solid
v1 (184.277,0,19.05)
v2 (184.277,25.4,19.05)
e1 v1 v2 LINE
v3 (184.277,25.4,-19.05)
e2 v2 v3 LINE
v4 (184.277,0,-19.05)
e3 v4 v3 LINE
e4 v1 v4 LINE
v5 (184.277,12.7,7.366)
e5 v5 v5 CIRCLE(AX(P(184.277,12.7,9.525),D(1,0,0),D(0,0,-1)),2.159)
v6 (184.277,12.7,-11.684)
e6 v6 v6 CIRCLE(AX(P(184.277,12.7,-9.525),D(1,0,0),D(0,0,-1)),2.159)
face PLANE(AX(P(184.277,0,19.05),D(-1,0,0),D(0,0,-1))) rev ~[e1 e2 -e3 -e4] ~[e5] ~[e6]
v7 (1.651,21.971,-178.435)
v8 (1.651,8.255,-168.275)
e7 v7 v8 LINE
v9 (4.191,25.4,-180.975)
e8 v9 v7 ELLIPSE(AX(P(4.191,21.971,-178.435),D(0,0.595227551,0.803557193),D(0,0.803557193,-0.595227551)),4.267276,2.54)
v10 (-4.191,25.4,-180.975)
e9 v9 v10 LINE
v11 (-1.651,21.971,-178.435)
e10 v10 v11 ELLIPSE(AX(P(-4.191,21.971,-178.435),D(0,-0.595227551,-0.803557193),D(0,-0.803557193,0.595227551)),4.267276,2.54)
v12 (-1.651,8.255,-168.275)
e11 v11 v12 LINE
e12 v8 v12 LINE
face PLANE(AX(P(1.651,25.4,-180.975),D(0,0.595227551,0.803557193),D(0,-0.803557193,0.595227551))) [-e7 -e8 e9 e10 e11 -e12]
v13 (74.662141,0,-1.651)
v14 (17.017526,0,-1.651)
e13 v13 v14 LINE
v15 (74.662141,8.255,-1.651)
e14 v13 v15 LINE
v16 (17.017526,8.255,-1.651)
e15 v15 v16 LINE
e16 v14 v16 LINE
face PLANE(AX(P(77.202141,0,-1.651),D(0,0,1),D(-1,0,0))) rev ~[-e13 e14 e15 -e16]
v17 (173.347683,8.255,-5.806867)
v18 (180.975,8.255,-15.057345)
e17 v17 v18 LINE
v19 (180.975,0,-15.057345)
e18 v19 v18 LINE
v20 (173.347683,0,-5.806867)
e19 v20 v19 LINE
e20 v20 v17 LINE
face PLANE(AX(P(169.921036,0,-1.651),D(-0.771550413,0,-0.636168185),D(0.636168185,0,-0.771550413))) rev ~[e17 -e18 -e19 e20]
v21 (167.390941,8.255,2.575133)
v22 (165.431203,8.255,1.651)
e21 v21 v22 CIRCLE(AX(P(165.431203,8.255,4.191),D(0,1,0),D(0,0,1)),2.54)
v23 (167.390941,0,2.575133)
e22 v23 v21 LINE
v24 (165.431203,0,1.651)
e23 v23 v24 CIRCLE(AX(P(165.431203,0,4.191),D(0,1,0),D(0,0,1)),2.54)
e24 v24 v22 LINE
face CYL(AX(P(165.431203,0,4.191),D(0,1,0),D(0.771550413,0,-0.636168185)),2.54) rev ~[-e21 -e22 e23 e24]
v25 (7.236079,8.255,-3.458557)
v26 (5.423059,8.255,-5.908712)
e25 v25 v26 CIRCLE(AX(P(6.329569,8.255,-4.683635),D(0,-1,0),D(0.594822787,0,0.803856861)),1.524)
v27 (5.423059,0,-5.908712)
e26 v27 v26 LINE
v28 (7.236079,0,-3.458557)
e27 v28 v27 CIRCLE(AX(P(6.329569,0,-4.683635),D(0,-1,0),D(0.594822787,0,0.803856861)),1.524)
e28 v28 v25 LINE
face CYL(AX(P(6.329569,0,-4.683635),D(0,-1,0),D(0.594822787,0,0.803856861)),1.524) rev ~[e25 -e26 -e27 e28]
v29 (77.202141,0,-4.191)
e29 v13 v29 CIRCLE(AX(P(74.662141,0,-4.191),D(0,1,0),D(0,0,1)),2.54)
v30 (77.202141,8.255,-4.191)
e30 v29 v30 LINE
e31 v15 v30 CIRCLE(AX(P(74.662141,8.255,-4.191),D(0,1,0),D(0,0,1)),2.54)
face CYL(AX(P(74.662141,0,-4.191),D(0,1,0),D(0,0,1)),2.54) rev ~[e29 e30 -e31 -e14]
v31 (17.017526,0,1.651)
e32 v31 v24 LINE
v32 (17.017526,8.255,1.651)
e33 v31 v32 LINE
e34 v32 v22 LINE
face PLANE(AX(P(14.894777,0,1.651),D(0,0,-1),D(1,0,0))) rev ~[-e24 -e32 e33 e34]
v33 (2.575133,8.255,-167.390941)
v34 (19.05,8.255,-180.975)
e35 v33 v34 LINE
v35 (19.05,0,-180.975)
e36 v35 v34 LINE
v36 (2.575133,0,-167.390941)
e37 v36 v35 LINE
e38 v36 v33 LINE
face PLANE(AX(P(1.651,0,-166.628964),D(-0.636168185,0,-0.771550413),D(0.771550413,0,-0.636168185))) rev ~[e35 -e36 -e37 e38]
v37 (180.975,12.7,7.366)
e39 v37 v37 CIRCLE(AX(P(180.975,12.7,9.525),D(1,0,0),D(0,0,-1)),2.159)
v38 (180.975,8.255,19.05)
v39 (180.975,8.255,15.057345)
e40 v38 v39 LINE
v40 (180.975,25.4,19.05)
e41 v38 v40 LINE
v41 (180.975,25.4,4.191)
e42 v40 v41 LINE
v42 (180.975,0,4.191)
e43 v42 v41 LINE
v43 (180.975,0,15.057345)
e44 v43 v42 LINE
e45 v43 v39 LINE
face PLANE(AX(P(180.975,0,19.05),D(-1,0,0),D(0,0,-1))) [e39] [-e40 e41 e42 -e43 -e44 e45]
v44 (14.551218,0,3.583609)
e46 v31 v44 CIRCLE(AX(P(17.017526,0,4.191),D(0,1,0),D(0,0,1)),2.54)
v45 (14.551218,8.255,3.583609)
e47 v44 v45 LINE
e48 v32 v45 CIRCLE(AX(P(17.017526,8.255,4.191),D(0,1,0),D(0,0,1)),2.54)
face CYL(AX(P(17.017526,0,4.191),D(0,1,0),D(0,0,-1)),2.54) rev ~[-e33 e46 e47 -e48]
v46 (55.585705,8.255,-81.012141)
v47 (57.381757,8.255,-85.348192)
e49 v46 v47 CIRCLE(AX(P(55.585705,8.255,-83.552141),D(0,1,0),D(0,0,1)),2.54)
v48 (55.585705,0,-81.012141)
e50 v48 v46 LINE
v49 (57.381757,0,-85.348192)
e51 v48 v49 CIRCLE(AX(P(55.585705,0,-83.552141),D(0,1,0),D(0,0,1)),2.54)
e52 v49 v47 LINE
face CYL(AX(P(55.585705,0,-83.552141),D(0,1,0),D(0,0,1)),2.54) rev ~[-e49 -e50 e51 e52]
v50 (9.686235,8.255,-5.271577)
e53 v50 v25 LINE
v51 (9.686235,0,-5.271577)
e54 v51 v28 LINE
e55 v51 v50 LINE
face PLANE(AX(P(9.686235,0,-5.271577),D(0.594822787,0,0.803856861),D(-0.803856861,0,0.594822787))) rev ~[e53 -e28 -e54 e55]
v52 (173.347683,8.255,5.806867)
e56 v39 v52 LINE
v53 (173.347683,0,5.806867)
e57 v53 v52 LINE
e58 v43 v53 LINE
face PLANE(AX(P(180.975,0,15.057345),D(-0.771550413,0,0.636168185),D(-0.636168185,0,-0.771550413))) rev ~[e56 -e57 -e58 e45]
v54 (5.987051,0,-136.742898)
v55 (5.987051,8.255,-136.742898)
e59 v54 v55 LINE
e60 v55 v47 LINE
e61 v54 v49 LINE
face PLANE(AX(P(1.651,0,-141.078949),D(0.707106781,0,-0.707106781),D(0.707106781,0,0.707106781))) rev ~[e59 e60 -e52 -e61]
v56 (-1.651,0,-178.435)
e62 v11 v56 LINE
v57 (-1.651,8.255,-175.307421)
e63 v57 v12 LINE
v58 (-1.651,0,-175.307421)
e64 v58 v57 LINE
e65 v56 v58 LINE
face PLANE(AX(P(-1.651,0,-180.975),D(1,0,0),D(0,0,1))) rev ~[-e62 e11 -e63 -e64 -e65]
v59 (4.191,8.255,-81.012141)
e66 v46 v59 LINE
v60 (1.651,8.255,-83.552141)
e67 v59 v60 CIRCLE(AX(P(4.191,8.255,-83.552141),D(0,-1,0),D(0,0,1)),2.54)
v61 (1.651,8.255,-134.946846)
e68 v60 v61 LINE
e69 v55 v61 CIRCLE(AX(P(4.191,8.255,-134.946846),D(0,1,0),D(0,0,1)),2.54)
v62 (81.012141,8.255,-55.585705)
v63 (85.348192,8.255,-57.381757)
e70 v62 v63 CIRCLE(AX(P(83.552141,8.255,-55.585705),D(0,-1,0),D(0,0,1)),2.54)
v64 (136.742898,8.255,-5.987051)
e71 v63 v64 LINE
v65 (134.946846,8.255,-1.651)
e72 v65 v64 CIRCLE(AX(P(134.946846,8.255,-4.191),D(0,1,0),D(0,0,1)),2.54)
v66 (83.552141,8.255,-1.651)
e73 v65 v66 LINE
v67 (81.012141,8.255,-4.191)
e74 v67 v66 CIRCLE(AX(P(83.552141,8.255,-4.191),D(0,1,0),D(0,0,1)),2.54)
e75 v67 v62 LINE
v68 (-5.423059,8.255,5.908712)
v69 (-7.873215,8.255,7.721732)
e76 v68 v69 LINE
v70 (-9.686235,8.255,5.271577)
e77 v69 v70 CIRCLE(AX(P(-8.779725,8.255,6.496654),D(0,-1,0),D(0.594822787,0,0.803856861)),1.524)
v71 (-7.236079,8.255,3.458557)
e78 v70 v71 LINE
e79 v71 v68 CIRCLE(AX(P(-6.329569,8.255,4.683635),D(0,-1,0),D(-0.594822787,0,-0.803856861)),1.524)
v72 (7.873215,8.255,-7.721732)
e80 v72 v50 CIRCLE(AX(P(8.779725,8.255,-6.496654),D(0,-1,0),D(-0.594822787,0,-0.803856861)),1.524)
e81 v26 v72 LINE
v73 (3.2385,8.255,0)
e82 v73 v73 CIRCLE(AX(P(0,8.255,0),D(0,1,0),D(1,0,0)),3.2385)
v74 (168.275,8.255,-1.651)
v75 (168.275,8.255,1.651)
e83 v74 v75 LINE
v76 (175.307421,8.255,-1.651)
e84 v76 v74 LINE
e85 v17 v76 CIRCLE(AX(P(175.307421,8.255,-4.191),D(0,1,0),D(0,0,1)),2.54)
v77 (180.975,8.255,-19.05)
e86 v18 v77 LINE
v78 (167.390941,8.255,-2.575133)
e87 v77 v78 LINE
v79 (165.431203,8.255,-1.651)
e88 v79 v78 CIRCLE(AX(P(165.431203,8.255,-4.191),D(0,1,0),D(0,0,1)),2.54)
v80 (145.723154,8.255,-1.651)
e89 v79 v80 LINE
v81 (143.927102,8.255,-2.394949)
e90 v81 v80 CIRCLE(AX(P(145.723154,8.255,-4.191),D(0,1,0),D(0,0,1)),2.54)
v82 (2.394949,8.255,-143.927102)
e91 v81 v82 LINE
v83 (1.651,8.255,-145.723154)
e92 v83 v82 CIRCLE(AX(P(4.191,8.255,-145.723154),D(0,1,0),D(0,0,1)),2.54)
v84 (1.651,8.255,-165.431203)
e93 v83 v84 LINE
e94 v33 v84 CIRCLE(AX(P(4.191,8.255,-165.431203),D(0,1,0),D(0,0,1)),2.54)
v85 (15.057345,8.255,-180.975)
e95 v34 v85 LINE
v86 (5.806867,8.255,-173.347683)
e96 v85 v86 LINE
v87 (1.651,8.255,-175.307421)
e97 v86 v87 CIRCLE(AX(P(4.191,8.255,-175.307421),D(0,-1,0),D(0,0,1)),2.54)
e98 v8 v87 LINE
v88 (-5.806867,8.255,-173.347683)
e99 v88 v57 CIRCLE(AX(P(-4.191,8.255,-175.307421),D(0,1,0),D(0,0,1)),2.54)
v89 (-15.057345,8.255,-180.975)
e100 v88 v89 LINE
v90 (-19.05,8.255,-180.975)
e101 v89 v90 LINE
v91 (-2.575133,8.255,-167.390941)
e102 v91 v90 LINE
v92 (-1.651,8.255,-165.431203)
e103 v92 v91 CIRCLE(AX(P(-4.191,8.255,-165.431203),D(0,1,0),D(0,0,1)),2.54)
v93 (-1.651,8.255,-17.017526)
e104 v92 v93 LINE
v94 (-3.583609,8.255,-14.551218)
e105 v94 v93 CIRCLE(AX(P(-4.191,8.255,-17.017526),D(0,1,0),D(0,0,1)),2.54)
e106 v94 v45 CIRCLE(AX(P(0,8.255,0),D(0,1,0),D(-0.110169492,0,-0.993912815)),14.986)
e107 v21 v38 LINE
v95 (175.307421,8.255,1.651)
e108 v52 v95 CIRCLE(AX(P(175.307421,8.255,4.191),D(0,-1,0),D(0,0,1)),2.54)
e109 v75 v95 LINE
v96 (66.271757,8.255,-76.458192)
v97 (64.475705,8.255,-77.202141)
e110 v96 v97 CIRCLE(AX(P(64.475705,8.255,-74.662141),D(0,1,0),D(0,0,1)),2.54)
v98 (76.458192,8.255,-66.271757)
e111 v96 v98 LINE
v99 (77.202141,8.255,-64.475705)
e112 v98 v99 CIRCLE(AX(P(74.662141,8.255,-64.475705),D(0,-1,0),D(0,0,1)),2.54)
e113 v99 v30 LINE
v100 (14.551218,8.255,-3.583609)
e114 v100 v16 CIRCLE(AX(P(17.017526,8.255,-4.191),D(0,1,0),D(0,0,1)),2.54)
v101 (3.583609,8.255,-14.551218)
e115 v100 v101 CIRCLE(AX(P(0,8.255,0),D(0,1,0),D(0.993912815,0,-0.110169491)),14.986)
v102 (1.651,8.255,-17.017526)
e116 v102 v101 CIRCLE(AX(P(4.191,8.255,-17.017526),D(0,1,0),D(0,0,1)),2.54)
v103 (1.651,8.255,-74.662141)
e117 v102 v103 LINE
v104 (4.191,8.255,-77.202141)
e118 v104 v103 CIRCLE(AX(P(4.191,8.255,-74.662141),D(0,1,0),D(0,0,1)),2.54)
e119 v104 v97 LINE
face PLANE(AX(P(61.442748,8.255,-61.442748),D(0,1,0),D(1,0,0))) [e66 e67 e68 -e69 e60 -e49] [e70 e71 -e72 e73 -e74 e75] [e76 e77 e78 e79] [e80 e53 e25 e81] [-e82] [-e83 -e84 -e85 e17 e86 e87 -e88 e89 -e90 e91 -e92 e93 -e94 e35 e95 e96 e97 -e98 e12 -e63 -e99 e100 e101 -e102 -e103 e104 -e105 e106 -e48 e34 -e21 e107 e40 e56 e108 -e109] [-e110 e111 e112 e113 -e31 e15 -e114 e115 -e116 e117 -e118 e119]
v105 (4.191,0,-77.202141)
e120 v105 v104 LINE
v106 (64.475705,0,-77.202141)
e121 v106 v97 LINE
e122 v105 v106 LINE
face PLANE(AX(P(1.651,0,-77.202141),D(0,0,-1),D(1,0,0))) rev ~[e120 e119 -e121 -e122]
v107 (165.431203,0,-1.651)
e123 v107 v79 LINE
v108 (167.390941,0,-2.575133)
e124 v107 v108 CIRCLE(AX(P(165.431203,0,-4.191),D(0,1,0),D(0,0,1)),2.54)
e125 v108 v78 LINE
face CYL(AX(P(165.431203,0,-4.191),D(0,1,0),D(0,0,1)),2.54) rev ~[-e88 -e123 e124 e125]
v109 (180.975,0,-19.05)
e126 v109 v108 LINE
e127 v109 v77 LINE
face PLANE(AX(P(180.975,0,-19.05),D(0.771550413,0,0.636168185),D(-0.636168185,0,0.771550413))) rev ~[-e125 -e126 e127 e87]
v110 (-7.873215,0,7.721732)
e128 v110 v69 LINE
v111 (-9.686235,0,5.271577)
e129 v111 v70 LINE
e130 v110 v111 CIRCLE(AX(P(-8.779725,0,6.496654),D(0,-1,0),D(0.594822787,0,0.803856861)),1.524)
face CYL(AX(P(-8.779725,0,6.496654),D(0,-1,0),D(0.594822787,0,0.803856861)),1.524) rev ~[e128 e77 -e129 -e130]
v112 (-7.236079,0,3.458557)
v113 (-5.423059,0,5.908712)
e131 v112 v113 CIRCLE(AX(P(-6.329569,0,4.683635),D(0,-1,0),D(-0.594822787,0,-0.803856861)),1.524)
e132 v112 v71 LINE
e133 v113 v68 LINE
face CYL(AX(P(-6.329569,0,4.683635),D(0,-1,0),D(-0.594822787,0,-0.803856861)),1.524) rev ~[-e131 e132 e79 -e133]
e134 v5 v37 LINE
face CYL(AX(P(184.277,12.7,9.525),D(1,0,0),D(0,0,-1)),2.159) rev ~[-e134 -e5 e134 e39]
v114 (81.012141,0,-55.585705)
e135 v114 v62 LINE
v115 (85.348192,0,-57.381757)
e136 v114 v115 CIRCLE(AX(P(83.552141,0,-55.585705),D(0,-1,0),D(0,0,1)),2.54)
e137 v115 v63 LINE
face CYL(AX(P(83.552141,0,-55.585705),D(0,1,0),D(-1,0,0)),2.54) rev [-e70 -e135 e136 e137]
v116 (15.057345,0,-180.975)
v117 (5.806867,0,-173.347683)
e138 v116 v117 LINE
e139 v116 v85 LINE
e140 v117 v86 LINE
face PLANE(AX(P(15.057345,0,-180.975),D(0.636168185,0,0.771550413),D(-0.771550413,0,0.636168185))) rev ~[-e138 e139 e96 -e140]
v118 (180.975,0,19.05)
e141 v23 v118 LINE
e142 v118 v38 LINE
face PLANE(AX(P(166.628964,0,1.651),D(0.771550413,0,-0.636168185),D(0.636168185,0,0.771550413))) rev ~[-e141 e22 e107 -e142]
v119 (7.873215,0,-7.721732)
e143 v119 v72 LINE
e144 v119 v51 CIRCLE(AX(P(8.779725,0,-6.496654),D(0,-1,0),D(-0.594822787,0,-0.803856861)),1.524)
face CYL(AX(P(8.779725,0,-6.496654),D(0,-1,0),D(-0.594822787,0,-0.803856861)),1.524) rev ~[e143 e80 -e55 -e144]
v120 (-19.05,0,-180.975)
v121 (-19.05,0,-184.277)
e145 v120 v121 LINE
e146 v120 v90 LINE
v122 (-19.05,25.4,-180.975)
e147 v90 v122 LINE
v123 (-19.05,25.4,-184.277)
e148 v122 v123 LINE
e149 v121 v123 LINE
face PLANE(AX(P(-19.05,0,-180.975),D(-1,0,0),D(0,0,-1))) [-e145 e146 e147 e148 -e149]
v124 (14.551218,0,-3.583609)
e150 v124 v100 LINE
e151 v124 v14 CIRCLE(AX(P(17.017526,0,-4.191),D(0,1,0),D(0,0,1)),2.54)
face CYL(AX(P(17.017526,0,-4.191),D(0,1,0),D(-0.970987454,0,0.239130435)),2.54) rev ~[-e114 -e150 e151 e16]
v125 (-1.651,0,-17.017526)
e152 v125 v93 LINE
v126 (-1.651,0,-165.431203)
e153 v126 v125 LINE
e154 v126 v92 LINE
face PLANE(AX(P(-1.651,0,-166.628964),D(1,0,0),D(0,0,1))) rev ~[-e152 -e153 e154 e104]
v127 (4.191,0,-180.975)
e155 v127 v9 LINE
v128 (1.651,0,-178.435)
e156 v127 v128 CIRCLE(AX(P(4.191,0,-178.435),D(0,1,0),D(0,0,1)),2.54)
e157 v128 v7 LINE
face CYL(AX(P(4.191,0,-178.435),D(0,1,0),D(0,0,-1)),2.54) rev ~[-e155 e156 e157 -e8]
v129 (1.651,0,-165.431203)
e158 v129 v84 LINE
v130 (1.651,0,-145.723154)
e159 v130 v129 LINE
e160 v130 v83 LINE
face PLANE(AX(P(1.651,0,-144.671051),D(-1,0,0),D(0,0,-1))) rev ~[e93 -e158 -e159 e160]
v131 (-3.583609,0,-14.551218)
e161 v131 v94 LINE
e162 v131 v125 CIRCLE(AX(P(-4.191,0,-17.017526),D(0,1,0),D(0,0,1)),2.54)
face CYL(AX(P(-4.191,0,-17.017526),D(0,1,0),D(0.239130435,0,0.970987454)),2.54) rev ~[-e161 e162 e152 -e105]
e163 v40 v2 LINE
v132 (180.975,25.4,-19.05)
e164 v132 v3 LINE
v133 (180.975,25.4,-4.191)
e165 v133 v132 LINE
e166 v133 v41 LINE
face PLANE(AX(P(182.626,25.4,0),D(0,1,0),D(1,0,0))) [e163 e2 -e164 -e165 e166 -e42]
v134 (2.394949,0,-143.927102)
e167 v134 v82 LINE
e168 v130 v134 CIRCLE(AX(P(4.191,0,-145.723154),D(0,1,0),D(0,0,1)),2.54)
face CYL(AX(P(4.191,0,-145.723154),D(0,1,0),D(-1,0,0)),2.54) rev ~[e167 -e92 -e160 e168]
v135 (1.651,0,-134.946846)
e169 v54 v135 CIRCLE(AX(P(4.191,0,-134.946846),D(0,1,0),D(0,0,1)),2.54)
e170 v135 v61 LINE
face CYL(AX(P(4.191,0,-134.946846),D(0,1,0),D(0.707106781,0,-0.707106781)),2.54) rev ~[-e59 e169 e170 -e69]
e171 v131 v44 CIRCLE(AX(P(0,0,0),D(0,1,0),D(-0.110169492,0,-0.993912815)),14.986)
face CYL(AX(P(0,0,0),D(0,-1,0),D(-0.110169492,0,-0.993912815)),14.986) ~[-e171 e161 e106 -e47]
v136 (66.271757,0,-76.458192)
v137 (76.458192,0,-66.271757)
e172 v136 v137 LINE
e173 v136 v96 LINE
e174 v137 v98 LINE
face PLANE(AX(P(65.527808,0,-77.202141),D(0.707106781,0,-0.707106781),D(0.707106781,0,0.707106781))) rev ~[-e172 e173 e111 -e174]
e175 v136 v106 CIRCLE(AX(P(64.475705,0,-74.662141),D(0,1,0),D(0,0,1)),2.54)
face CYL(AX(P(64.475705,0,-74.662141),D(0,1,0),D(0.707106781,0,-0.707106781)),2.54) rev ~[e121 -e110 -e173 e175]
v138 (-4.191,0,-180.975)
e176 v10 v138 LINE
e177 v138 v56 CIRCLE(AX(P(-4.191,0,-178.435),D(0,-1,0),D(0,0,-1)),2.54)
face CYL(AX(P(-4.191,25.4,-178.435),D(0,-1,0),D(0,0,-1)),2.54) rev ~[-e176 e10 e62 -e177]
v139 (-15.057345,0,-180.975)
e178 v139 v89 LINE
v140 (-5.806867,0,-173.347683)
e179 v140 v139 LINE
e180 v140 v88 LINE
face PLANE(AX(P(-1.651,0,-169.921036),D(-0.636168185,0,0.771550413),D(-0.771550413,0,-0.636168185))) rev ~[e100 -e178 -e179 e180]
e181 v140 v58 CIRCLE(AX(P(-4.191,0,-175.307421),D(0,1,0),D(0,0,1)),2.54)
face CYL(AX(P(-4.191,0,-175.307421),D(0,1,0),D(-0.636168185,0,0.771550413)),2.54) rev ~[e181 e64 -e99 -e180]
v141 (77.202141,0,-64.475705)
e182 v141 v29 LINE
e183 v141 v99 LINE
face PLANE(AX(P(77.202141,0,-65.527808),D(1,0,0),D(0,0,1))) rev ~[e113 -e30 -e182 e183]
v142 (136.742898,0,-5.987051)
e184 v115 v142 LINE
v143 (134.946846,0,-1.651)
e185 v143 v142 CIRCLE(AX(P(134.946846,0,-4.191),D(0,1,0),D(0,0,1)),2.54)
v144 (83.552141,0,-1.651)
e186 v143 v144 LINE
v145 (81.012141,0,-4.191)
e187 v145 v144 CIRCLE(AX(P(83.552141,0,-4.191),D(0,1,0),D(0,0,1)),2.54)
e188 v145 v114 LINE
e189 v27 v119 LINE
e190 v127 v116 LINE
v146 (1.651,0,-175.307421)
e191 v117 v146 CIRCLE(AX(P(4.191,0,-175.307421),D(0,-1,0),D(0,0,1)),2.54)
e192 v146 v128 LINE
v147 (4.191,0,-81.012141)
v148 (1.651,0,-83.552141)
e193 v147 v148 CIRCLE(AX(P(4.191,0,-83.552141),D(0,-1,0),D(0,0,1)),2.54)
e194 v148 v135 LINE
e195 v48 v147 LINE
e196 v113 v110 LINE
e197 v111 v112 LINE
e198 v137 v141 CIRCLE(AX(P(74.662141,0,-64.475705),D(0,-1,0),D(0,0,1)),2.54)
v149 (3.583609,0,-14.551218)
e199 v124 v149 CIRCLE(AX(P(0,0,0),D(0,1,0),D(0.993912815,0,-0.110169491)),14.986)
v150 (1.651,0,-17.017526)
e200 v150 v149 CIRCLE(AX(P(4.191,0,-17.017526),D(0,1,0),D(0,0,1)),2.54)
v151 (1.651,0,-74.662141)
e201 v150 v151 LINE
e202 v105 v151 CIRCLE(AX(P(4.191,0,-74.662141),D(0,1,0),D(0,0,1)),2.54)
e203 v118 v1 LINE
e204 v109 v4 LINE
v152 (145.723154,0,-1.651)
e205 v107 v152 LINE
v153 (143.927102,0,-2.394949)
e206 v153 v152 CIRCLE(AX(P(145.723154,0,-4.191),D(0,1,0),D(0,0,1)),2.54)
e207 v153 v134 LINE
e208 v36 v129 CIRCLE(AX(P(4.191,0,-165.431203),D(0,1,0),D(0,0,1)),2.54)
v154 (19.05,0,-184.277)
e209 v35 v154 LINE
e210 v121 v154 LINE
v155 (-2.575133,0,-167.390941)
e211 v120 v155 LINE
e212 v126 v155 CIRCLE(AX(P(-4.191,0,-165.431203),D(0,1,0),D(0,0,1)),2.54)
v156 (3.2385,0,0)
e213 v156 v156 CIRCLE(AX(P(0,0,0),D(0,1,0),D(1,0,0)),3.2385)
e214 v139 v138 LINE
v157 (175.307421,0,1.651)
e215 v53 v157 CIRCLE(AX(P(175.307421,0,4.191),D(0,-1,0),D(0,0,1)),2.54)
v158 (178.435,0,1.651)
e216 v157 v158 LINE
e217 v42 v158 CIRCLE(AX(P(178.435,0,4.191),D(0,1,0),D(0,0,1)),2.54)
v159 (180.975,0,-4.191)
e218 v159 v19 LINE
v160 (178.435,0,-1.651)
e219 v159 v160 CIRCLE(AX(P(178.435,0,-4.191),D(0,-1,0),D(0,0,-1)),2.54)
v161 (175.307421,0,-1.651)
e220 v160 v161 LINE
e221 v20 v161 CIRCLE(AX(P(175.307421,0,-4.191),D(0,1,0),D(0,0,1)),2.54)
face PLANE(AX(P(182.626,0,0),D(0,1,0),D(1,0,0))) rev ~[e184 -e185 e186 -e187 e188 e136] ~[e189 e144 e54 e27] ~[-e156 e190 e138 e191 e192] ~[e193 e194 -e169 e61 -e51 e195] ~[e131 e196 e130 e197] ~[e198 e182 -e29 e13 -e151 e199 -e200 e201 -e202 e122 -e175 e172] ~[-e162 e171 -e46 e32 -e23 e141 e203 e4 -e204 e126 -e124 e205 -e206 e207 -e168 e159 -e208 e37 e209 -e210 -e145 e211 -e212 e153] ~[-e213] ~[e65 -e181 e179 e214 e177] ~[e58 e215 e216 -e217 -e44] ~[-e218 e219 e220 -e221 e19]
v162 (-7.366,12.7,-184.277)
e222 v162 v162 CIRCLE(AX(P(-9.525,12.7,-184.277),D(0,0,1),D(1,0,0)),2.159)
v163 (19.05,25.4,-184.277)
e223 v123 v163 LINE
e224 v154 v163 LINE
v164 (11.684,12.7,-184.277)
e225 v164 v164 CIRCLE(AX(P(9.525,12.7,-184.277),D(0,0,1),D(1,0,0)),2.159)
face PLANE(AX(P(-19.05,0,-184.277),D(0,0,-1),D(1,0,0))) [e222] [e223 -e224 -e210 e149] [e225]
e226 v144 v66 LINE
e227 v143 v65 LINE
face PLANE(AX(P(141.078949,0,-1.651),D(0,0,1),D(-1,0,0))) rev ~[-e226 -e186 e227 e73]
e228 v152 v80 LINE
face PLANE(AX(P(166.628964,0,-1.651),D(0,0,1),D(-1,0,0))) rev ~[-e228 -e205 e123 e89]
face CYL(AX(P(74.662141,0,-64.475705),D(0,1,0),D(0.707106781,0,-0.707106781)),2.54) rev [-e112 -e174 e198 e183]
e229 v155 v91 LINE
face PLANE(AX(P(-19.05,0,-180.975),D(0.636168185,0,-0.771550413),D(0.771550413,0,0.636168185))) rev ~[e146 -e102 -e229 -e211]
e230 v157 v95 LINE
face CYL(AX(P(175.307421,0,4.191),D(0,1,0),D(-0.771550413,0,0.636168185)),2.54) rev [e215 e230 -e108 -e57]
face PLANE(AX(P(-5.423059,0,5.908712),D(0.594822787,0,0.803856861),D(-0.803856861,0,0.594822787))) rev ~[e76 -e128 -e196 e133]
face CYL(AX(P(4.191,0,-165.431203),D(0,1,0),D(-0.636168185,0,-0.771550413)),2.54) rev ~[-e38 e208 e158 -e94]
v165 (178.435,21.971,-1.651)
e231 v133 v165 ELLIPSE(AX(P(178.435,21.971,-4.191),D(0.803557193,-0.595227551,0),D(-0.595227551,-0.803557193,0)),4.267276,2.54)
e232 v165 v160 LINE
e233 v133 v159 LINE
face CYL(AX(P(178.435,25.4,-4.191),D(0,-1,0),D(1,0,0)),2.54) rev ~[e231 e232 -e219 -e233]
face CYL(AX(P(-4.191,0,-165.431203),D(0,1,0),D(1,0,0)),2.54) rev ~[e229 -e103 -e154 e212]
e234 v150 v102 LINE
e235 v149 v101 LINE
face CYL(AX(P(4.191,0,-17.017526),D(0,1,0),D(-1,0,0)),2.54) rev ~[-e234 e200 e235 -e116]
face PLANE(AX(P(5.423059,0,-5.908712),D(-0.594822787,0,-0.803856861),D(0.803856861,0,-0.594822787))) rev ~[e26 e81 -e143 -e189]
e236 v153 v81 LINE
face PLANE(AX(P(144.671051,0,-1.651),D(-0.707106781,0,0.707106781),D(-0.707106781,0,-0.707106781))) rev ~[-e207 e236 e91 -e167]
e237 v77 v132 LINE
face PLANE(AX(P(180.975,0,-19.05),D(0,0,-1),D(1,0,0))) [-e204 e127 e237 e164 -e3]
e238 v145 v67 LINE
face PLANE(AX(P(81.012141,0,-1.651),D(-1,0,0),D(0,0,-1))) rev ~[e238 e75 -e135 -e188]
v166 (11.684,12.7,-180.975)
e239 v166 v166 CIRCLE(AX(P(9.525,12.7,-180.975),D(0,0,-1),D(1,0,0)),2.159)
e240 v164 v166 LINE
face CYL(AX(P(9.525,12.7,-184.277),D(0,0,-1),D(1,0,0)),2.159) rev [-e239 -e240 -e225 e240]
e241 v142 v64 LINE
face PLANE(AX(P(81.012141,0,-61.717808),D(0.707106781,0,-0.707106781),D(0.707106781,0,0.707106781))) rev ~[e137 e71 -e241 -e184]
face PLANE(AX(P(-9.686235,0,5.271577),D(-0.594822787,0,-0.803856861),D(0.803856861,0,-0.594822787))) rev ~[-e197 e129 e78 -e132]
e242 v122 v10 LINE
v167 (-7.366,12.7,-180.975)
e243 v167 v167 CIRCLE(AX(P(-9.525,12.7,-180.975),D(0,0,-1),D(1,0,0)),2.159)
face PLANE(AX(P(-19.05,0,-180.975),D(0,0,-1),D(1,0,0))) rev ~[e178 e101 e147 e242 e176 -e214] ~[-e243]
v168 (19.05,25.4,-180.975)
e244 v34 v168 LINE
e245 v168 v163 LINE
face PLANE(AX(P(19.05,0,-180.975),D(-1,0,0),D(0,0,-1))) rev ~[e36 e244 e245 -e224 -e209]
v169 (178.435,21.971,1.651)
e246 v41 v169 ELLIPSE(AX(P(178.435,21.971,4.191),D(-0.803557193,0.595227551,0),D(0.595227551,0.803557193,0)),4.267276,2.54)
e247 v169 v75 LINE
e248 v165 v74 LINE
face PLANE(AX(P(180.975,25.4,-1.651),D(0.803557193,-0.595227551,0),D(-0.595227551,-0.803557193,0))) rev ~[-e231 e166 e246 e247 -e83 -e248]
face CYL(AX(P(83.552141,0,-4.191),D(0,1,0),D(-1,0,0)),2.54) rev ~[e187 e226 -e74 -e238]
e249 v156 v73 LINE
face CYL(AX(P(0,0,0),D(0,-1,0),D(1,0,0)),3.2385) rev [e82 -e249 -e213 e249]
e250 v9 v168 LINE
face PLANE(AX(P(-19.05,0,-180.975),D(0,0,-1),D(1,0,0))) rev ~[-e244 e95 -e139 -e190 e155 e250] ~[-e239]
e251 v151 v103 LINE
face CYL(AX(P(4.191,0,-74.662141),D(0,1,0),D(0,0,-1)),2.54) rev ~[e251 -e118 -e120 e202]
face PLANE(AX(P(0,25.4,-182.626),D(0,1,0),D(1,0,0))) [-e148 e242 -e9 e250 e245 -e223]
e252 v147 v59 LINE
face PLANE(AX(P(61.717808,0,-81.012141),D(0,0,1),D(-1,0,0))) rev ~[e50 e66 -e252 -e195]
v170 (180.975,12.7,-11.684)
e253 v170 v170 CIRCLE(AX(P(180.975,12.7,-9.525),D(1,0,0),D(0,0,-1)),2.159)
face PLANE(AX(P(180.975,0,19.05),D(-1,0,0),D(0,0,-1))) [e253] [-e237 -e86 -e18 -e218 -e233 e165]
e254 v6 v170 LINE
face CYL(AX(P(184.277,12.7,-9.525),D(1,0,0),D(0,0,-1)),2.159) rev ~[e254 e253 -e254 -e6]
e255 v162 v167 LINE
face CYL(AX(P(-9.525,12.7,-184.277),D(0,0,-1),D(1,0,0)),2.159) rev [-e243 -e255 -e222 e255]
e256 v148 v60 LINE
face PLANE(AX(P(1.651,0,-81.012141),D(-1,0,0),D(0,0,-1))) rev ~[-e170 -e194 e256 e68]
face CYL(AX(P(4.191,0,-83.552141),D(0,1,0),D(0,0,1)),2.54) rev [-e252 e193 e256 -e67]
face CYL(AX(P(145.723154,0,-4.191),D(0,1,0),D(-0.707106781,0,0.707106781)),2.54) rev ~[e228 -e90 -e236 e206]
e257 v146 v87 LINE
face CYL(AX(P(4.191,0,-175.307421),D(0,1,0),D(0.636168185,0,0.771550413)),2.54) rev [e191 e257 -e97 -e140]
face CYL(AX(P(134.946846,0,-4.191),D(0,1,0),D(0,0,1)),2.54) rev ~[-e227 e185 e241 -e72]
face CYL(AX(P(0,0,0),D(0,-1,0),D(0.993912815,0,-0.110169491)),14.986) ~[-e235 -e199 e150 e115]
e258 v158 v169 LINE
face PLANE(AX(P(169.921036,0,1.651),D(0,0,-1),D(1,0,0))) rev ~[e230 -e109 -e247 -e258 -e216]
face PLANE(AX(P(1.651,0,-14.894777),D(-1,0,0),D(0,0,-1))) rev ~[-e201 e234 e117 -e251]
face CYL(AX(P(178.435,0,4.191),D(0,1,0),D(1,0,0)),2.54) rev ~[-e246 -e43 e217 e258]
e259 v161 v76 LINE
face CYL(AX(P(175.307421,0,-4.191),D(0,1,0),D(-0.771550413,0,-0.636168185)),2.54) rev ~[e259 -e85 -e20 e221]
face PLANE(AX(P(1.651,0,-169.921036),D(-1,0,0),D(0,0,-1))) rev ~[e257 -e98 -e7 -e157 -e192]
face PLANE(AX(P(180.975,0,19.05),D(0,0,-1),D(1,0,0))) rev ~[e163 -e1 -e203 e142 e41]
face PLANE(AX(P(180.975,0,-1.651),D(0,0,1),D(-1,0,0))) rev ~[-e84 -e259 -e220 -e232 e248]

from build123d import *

# Parameters (mm, degrees)
SKETCH1_R           = 3.2385
BOSS_EXTRUDE1_DEPTH = 8.255
SKETCH3_W           = 3.302
SKETCH3_H           = 38.1
SKETCH3_W_2         = 38.1
SKETCH3_H_2         = 3.302
BOSS_EXTRUDE3_DEPTH = 25.4
SKETCH5_R           = 2.159
CUT_EXTRUDE1_DEPTH  = 204.327
SKETCH6_W           = 12.7
SKETCH6_H           = 3.302
BOSS_EXTRUDE5_DEPTH = 25.4
CUT_EXTRUDE2_DEPTH  = 25.4
SKETCH8_W           = 3.302
SKETCH8_H           = 12.7
BOSS_EXTRUDE6_DEPTH = 25.4
CUT_EXTRUDE3_DEPTH  = 25.4
FILLET1_R           = 2.54


with BuildPart() as part:
    # Sketch1 → Boss-Extrude1 (new body)
    with BuildSketch(Plane(origin=(0, 0, 0), x_dir=(1, 0, 0), z_dir=(0, 1, 0))):
        with BuildLine():
            Line((-1.651, 166.628963684), (-1.651, 14.89477744))
            ThreePointArc((-1.651, 14.89477744), (-10.596702223, -10.596702223), (14.89477744, -1.651))
            Line((14.89477744, -1.651), (166.628963684, -1.651))
            Line((166.628963684, -1.651), (180.975, -19.05))
            Line((180.975, -19.05), (180.975, -15.057345133))
            Line((180.975, -15.057345133), (169.921036316, -1.651))
            Line((169.921036316, -1.651), (180.975, -1.651))
            Line((180.975, -1.651), (180.975, 1.651))
            Line((180.975, 1.651), (169.921036316, 1.651))
            Line((169.921036316, 1.651), (180.975, 15.057345133))
            Line((180.975, 15.057345133), (180.975, 19.05))
            Line((180.975, 19.05), (166.628963684, 1.651))
            Line((166.628963684, 1.651), (144.671051224, 1.651))
            Line((144.671051224, 1.651), (1.651, 144.671051224))
            Line((1.651, 144.671051224), (1.651, 166.628963684))
            Line((1.651, 166.628963684), (19.05, 180.975))
            Line((19.05, 180.975), (15.057345133, 180.975))
            Line((15.057345133, 180.975), (1.651, 169.921036316))
            Line((1.651, 169.921036316), (1.651, 180.975))
            Line((1.651, 180.975), (-1.651, 180.975))
            Line((-1.651, 180.975), (-1.651, 169.921036316))
            Line((-1.651, 169.921036316), (-15.057345133, 180.975))
            Line((-15.057345133, 180.975), (-19.05, 180.975))
            Line((-19.05, 180.975), (-1.651, 166.628963684))
        make_face()
        with BuildLine():
            Line((-9.686234559, -5.271576621), (-7.236078848, -3.458556767))
            ThreePointArc((-7.236078848, -3.458556767), (-5.104491065, -3.777124696), (-5.423058993, -5.908712478))
            Line((-5.423058993, -5.908712478), (-7.873214705, -7.721732332))
            ThreePointArc((-7.873214705, -7.721732332), (-10.004802487, -7.403164404), (-9.686234559, -5.271576621))
        make_face(mode=Mode.SUBTRACT)
        Circle(SKETCH1_R, mode=Mode.SUBTRACT)
        with BuildLine():
            ThreePointArc((7.236078848, 3.458556767), (5.104491065, 3.777124696), (5.423058993, 5.908712478))
            Line((5.423058993, 5.908712478), (7.873214705, 7.721732332))
            ThreePointArc((7.873214705, 7.721732332), (10.004802487, 7.403164404), (9.686234559, 5.271576621))
            Line((9.686234559, 5.271576621), (7.236078848, 3.458556767))
        make_face(mode=Mode.SUBTRACT)
        with BuildLine():
            Line((77.202140867, 1.651), (14.89477744, 1.651))
            ThreePointArc((14.89477744, 1.651), (10.596702223, 10.596702223), (1.651, 14.89477744))
            Line((1.651, 14.89477744), (1.651, 77.202140867))
            Line((1.651, 77.202140867), (65.527807909, 77.202140867))
            Line((65.527807909, 77.202140867), (77.202140867, 65.527807909))
            Line((77.202140867, 65.527807909), (77.202140867, 1.651))
        make_face(mode=Mode.SUBTRACT)
        Polygon((141.078948776, 1.651), (81.012140867, 1.651), (81.012140867, 61.717807909), align=None, mode=Mode.SUBTRACT)
        Polygon((1.651, 81.012140867), (1.651, 141.078948776), (61.717807909, 81.012140867), align=None, mode=Mode.SUBTRACT)
    extrude(amount=BOSS_EXTRUDE1_DEPTH)

    # Sketch3 → Boss-Extrude3 (add)
    with BuildSketch(Plane(origin=(0, 0, 0), x_dir=(1, 0, 0), z_dir=(0, 1, 0))):
        with Locations((182.626, 0)):
            Rectangle(SKETCH3_W, SKETCH3_H)
        with Locations((0, 182.626)):
            Rectangle(SKETCH3_W_2, SKETCH3_H_2)
    extrude(amount=BOSS_EXTRUDE3_DEPTH)

    # Sketch5 → Cut-Extrude1 (cut, through all)
    with BuildSketch(Plane(origin=(184.277, 0, 0), x_dir=(0, 0, -1), z_dir=(1, 0, 0))):
        with Locations((-9.525, 12.7)):
            Circle(SKETCH5_R)
        with Locations((9.525, 12.7)):
            Circle(SKETCH5_R)
    cut_extrude1 = extrude(amount=-CUT_EXTRUDE1_DEPTH, mode=Mode.SUBTRACT)

    # Mirror1: Cut-Extrude1 across plane
    add(cut_extrude1.mirror(Plane(origin=(0, 0, 0), x_dir=(-0.707106781, 0, 0.707106781), z_dir=(0.707106781, 0, 0.707106781))), mode=Mode.SUBTRACT)

    # Sketch6 → Boss-Extrude5 (add)
    with BuildSketch(Plane(origin=(0, 0, 0), x_dir=(1, 0, 0), z_dir=(0, 1, 0))):
        with Locations((174.625, 0)):
            Rectangle(SKETCH6_W, SKETCH6_H)
    extrude(amount=BOSS_EXTRUDE5_DEPTH)

    # Sketch7 → Cut-Extrude2 (cut)
    with BuildSketch(Plane(origin=(0, 0, -1.651), x_dir=(-1, 0, 0), z_dir=(0, 0, -1))):
        Polygon((-180.975, 25.4), (-168.275, 8.255), (-168.275, 25.4), align=None)
    extrude(amount=-CUT_EXTRUDE2_DEPTH, mode=Mode.SUBTRACT)

    # Sketch8 → Boss-Extrude6 (add)
    with BuildSketch(Plane(origin=(0, 0, 0), x_dir=(1, 0, 0), z_dir=(0, 1, 0))):
        with Locations((0, 174.625)):
            Rectangle(SKETCH8_W, SKETCH8_H)
    extrude(amount=BOSS_EXTRUDE6_DEPTH)

    # Sketch9 → Cut-Extrude3 (cut)
    with BuildSketch(Plane(origin=(1.651, 0, 0), x_dir=(0, 0, -1), z_dir=(1, 0, 0))):
        Polygon((180.975, 25.4), (168.275, 8.255), (168.275, 25.4), align=None)
    extrude(amount=-CUT_EXTRUDE3_DEPTH, mode=Mode.SUBTRACT)

    # Fillet1
    fillet1_edges = [part.edges().sort_by_distance(p)[0] for p in [
        (-1.651, 4.1275, -166.628963684),
        (-1.651, 4.1275, -169.921036316),
        (-1.651, 12.7, -180.975),
        (1.651, 12.7, -180.975),
        (1.651, 4.1275, -169.921036316),
        (1.651, 4.1275, -166.628963684),
        (1.651, 4.1275, -144.671051224),
        (144.671051224, 4.1275, -1.651),
        (166.628963684, 4.1275, -1.651),
        (169.921036316, 4.1275, -1.651),
        (180.975, 12.7, -1.651),
        (180.975, 12.7, 1.651),
        (169.921036316, 4.1275, 1.651),
        (166.628963684, 4.1275, 1.651),
        (14.89477744, 4.1275, 1.651),
        (-1.651, 4.1275, -14.89477744),
        (61.717807909, 4.1275, -81.012140867),
        (1.651, 4.1275, -141.078948776),
        (1.651, 4.1275, -81.012140867),
        (77.202140867, 4.1275, -1.651),
        (77.202140867, 4.1275, -65.527807909),
        (65.527807909, 4.1275, -77.202140867),
        (1.651, 4.1275, -77.202140867),
        (1.651, 4.1275, -14.89477744),
        (14.89477744, 4.1275, -1.651),
        (141.078948776, 4.1275, -1.651),
        (81.012140867, 4.1275, -61.717807909),
        (81.012140867, 4.1275, -1.651),
    ]]
    fillet(fillet1_edges, radius=FILLET1_R)


solid = part.part
